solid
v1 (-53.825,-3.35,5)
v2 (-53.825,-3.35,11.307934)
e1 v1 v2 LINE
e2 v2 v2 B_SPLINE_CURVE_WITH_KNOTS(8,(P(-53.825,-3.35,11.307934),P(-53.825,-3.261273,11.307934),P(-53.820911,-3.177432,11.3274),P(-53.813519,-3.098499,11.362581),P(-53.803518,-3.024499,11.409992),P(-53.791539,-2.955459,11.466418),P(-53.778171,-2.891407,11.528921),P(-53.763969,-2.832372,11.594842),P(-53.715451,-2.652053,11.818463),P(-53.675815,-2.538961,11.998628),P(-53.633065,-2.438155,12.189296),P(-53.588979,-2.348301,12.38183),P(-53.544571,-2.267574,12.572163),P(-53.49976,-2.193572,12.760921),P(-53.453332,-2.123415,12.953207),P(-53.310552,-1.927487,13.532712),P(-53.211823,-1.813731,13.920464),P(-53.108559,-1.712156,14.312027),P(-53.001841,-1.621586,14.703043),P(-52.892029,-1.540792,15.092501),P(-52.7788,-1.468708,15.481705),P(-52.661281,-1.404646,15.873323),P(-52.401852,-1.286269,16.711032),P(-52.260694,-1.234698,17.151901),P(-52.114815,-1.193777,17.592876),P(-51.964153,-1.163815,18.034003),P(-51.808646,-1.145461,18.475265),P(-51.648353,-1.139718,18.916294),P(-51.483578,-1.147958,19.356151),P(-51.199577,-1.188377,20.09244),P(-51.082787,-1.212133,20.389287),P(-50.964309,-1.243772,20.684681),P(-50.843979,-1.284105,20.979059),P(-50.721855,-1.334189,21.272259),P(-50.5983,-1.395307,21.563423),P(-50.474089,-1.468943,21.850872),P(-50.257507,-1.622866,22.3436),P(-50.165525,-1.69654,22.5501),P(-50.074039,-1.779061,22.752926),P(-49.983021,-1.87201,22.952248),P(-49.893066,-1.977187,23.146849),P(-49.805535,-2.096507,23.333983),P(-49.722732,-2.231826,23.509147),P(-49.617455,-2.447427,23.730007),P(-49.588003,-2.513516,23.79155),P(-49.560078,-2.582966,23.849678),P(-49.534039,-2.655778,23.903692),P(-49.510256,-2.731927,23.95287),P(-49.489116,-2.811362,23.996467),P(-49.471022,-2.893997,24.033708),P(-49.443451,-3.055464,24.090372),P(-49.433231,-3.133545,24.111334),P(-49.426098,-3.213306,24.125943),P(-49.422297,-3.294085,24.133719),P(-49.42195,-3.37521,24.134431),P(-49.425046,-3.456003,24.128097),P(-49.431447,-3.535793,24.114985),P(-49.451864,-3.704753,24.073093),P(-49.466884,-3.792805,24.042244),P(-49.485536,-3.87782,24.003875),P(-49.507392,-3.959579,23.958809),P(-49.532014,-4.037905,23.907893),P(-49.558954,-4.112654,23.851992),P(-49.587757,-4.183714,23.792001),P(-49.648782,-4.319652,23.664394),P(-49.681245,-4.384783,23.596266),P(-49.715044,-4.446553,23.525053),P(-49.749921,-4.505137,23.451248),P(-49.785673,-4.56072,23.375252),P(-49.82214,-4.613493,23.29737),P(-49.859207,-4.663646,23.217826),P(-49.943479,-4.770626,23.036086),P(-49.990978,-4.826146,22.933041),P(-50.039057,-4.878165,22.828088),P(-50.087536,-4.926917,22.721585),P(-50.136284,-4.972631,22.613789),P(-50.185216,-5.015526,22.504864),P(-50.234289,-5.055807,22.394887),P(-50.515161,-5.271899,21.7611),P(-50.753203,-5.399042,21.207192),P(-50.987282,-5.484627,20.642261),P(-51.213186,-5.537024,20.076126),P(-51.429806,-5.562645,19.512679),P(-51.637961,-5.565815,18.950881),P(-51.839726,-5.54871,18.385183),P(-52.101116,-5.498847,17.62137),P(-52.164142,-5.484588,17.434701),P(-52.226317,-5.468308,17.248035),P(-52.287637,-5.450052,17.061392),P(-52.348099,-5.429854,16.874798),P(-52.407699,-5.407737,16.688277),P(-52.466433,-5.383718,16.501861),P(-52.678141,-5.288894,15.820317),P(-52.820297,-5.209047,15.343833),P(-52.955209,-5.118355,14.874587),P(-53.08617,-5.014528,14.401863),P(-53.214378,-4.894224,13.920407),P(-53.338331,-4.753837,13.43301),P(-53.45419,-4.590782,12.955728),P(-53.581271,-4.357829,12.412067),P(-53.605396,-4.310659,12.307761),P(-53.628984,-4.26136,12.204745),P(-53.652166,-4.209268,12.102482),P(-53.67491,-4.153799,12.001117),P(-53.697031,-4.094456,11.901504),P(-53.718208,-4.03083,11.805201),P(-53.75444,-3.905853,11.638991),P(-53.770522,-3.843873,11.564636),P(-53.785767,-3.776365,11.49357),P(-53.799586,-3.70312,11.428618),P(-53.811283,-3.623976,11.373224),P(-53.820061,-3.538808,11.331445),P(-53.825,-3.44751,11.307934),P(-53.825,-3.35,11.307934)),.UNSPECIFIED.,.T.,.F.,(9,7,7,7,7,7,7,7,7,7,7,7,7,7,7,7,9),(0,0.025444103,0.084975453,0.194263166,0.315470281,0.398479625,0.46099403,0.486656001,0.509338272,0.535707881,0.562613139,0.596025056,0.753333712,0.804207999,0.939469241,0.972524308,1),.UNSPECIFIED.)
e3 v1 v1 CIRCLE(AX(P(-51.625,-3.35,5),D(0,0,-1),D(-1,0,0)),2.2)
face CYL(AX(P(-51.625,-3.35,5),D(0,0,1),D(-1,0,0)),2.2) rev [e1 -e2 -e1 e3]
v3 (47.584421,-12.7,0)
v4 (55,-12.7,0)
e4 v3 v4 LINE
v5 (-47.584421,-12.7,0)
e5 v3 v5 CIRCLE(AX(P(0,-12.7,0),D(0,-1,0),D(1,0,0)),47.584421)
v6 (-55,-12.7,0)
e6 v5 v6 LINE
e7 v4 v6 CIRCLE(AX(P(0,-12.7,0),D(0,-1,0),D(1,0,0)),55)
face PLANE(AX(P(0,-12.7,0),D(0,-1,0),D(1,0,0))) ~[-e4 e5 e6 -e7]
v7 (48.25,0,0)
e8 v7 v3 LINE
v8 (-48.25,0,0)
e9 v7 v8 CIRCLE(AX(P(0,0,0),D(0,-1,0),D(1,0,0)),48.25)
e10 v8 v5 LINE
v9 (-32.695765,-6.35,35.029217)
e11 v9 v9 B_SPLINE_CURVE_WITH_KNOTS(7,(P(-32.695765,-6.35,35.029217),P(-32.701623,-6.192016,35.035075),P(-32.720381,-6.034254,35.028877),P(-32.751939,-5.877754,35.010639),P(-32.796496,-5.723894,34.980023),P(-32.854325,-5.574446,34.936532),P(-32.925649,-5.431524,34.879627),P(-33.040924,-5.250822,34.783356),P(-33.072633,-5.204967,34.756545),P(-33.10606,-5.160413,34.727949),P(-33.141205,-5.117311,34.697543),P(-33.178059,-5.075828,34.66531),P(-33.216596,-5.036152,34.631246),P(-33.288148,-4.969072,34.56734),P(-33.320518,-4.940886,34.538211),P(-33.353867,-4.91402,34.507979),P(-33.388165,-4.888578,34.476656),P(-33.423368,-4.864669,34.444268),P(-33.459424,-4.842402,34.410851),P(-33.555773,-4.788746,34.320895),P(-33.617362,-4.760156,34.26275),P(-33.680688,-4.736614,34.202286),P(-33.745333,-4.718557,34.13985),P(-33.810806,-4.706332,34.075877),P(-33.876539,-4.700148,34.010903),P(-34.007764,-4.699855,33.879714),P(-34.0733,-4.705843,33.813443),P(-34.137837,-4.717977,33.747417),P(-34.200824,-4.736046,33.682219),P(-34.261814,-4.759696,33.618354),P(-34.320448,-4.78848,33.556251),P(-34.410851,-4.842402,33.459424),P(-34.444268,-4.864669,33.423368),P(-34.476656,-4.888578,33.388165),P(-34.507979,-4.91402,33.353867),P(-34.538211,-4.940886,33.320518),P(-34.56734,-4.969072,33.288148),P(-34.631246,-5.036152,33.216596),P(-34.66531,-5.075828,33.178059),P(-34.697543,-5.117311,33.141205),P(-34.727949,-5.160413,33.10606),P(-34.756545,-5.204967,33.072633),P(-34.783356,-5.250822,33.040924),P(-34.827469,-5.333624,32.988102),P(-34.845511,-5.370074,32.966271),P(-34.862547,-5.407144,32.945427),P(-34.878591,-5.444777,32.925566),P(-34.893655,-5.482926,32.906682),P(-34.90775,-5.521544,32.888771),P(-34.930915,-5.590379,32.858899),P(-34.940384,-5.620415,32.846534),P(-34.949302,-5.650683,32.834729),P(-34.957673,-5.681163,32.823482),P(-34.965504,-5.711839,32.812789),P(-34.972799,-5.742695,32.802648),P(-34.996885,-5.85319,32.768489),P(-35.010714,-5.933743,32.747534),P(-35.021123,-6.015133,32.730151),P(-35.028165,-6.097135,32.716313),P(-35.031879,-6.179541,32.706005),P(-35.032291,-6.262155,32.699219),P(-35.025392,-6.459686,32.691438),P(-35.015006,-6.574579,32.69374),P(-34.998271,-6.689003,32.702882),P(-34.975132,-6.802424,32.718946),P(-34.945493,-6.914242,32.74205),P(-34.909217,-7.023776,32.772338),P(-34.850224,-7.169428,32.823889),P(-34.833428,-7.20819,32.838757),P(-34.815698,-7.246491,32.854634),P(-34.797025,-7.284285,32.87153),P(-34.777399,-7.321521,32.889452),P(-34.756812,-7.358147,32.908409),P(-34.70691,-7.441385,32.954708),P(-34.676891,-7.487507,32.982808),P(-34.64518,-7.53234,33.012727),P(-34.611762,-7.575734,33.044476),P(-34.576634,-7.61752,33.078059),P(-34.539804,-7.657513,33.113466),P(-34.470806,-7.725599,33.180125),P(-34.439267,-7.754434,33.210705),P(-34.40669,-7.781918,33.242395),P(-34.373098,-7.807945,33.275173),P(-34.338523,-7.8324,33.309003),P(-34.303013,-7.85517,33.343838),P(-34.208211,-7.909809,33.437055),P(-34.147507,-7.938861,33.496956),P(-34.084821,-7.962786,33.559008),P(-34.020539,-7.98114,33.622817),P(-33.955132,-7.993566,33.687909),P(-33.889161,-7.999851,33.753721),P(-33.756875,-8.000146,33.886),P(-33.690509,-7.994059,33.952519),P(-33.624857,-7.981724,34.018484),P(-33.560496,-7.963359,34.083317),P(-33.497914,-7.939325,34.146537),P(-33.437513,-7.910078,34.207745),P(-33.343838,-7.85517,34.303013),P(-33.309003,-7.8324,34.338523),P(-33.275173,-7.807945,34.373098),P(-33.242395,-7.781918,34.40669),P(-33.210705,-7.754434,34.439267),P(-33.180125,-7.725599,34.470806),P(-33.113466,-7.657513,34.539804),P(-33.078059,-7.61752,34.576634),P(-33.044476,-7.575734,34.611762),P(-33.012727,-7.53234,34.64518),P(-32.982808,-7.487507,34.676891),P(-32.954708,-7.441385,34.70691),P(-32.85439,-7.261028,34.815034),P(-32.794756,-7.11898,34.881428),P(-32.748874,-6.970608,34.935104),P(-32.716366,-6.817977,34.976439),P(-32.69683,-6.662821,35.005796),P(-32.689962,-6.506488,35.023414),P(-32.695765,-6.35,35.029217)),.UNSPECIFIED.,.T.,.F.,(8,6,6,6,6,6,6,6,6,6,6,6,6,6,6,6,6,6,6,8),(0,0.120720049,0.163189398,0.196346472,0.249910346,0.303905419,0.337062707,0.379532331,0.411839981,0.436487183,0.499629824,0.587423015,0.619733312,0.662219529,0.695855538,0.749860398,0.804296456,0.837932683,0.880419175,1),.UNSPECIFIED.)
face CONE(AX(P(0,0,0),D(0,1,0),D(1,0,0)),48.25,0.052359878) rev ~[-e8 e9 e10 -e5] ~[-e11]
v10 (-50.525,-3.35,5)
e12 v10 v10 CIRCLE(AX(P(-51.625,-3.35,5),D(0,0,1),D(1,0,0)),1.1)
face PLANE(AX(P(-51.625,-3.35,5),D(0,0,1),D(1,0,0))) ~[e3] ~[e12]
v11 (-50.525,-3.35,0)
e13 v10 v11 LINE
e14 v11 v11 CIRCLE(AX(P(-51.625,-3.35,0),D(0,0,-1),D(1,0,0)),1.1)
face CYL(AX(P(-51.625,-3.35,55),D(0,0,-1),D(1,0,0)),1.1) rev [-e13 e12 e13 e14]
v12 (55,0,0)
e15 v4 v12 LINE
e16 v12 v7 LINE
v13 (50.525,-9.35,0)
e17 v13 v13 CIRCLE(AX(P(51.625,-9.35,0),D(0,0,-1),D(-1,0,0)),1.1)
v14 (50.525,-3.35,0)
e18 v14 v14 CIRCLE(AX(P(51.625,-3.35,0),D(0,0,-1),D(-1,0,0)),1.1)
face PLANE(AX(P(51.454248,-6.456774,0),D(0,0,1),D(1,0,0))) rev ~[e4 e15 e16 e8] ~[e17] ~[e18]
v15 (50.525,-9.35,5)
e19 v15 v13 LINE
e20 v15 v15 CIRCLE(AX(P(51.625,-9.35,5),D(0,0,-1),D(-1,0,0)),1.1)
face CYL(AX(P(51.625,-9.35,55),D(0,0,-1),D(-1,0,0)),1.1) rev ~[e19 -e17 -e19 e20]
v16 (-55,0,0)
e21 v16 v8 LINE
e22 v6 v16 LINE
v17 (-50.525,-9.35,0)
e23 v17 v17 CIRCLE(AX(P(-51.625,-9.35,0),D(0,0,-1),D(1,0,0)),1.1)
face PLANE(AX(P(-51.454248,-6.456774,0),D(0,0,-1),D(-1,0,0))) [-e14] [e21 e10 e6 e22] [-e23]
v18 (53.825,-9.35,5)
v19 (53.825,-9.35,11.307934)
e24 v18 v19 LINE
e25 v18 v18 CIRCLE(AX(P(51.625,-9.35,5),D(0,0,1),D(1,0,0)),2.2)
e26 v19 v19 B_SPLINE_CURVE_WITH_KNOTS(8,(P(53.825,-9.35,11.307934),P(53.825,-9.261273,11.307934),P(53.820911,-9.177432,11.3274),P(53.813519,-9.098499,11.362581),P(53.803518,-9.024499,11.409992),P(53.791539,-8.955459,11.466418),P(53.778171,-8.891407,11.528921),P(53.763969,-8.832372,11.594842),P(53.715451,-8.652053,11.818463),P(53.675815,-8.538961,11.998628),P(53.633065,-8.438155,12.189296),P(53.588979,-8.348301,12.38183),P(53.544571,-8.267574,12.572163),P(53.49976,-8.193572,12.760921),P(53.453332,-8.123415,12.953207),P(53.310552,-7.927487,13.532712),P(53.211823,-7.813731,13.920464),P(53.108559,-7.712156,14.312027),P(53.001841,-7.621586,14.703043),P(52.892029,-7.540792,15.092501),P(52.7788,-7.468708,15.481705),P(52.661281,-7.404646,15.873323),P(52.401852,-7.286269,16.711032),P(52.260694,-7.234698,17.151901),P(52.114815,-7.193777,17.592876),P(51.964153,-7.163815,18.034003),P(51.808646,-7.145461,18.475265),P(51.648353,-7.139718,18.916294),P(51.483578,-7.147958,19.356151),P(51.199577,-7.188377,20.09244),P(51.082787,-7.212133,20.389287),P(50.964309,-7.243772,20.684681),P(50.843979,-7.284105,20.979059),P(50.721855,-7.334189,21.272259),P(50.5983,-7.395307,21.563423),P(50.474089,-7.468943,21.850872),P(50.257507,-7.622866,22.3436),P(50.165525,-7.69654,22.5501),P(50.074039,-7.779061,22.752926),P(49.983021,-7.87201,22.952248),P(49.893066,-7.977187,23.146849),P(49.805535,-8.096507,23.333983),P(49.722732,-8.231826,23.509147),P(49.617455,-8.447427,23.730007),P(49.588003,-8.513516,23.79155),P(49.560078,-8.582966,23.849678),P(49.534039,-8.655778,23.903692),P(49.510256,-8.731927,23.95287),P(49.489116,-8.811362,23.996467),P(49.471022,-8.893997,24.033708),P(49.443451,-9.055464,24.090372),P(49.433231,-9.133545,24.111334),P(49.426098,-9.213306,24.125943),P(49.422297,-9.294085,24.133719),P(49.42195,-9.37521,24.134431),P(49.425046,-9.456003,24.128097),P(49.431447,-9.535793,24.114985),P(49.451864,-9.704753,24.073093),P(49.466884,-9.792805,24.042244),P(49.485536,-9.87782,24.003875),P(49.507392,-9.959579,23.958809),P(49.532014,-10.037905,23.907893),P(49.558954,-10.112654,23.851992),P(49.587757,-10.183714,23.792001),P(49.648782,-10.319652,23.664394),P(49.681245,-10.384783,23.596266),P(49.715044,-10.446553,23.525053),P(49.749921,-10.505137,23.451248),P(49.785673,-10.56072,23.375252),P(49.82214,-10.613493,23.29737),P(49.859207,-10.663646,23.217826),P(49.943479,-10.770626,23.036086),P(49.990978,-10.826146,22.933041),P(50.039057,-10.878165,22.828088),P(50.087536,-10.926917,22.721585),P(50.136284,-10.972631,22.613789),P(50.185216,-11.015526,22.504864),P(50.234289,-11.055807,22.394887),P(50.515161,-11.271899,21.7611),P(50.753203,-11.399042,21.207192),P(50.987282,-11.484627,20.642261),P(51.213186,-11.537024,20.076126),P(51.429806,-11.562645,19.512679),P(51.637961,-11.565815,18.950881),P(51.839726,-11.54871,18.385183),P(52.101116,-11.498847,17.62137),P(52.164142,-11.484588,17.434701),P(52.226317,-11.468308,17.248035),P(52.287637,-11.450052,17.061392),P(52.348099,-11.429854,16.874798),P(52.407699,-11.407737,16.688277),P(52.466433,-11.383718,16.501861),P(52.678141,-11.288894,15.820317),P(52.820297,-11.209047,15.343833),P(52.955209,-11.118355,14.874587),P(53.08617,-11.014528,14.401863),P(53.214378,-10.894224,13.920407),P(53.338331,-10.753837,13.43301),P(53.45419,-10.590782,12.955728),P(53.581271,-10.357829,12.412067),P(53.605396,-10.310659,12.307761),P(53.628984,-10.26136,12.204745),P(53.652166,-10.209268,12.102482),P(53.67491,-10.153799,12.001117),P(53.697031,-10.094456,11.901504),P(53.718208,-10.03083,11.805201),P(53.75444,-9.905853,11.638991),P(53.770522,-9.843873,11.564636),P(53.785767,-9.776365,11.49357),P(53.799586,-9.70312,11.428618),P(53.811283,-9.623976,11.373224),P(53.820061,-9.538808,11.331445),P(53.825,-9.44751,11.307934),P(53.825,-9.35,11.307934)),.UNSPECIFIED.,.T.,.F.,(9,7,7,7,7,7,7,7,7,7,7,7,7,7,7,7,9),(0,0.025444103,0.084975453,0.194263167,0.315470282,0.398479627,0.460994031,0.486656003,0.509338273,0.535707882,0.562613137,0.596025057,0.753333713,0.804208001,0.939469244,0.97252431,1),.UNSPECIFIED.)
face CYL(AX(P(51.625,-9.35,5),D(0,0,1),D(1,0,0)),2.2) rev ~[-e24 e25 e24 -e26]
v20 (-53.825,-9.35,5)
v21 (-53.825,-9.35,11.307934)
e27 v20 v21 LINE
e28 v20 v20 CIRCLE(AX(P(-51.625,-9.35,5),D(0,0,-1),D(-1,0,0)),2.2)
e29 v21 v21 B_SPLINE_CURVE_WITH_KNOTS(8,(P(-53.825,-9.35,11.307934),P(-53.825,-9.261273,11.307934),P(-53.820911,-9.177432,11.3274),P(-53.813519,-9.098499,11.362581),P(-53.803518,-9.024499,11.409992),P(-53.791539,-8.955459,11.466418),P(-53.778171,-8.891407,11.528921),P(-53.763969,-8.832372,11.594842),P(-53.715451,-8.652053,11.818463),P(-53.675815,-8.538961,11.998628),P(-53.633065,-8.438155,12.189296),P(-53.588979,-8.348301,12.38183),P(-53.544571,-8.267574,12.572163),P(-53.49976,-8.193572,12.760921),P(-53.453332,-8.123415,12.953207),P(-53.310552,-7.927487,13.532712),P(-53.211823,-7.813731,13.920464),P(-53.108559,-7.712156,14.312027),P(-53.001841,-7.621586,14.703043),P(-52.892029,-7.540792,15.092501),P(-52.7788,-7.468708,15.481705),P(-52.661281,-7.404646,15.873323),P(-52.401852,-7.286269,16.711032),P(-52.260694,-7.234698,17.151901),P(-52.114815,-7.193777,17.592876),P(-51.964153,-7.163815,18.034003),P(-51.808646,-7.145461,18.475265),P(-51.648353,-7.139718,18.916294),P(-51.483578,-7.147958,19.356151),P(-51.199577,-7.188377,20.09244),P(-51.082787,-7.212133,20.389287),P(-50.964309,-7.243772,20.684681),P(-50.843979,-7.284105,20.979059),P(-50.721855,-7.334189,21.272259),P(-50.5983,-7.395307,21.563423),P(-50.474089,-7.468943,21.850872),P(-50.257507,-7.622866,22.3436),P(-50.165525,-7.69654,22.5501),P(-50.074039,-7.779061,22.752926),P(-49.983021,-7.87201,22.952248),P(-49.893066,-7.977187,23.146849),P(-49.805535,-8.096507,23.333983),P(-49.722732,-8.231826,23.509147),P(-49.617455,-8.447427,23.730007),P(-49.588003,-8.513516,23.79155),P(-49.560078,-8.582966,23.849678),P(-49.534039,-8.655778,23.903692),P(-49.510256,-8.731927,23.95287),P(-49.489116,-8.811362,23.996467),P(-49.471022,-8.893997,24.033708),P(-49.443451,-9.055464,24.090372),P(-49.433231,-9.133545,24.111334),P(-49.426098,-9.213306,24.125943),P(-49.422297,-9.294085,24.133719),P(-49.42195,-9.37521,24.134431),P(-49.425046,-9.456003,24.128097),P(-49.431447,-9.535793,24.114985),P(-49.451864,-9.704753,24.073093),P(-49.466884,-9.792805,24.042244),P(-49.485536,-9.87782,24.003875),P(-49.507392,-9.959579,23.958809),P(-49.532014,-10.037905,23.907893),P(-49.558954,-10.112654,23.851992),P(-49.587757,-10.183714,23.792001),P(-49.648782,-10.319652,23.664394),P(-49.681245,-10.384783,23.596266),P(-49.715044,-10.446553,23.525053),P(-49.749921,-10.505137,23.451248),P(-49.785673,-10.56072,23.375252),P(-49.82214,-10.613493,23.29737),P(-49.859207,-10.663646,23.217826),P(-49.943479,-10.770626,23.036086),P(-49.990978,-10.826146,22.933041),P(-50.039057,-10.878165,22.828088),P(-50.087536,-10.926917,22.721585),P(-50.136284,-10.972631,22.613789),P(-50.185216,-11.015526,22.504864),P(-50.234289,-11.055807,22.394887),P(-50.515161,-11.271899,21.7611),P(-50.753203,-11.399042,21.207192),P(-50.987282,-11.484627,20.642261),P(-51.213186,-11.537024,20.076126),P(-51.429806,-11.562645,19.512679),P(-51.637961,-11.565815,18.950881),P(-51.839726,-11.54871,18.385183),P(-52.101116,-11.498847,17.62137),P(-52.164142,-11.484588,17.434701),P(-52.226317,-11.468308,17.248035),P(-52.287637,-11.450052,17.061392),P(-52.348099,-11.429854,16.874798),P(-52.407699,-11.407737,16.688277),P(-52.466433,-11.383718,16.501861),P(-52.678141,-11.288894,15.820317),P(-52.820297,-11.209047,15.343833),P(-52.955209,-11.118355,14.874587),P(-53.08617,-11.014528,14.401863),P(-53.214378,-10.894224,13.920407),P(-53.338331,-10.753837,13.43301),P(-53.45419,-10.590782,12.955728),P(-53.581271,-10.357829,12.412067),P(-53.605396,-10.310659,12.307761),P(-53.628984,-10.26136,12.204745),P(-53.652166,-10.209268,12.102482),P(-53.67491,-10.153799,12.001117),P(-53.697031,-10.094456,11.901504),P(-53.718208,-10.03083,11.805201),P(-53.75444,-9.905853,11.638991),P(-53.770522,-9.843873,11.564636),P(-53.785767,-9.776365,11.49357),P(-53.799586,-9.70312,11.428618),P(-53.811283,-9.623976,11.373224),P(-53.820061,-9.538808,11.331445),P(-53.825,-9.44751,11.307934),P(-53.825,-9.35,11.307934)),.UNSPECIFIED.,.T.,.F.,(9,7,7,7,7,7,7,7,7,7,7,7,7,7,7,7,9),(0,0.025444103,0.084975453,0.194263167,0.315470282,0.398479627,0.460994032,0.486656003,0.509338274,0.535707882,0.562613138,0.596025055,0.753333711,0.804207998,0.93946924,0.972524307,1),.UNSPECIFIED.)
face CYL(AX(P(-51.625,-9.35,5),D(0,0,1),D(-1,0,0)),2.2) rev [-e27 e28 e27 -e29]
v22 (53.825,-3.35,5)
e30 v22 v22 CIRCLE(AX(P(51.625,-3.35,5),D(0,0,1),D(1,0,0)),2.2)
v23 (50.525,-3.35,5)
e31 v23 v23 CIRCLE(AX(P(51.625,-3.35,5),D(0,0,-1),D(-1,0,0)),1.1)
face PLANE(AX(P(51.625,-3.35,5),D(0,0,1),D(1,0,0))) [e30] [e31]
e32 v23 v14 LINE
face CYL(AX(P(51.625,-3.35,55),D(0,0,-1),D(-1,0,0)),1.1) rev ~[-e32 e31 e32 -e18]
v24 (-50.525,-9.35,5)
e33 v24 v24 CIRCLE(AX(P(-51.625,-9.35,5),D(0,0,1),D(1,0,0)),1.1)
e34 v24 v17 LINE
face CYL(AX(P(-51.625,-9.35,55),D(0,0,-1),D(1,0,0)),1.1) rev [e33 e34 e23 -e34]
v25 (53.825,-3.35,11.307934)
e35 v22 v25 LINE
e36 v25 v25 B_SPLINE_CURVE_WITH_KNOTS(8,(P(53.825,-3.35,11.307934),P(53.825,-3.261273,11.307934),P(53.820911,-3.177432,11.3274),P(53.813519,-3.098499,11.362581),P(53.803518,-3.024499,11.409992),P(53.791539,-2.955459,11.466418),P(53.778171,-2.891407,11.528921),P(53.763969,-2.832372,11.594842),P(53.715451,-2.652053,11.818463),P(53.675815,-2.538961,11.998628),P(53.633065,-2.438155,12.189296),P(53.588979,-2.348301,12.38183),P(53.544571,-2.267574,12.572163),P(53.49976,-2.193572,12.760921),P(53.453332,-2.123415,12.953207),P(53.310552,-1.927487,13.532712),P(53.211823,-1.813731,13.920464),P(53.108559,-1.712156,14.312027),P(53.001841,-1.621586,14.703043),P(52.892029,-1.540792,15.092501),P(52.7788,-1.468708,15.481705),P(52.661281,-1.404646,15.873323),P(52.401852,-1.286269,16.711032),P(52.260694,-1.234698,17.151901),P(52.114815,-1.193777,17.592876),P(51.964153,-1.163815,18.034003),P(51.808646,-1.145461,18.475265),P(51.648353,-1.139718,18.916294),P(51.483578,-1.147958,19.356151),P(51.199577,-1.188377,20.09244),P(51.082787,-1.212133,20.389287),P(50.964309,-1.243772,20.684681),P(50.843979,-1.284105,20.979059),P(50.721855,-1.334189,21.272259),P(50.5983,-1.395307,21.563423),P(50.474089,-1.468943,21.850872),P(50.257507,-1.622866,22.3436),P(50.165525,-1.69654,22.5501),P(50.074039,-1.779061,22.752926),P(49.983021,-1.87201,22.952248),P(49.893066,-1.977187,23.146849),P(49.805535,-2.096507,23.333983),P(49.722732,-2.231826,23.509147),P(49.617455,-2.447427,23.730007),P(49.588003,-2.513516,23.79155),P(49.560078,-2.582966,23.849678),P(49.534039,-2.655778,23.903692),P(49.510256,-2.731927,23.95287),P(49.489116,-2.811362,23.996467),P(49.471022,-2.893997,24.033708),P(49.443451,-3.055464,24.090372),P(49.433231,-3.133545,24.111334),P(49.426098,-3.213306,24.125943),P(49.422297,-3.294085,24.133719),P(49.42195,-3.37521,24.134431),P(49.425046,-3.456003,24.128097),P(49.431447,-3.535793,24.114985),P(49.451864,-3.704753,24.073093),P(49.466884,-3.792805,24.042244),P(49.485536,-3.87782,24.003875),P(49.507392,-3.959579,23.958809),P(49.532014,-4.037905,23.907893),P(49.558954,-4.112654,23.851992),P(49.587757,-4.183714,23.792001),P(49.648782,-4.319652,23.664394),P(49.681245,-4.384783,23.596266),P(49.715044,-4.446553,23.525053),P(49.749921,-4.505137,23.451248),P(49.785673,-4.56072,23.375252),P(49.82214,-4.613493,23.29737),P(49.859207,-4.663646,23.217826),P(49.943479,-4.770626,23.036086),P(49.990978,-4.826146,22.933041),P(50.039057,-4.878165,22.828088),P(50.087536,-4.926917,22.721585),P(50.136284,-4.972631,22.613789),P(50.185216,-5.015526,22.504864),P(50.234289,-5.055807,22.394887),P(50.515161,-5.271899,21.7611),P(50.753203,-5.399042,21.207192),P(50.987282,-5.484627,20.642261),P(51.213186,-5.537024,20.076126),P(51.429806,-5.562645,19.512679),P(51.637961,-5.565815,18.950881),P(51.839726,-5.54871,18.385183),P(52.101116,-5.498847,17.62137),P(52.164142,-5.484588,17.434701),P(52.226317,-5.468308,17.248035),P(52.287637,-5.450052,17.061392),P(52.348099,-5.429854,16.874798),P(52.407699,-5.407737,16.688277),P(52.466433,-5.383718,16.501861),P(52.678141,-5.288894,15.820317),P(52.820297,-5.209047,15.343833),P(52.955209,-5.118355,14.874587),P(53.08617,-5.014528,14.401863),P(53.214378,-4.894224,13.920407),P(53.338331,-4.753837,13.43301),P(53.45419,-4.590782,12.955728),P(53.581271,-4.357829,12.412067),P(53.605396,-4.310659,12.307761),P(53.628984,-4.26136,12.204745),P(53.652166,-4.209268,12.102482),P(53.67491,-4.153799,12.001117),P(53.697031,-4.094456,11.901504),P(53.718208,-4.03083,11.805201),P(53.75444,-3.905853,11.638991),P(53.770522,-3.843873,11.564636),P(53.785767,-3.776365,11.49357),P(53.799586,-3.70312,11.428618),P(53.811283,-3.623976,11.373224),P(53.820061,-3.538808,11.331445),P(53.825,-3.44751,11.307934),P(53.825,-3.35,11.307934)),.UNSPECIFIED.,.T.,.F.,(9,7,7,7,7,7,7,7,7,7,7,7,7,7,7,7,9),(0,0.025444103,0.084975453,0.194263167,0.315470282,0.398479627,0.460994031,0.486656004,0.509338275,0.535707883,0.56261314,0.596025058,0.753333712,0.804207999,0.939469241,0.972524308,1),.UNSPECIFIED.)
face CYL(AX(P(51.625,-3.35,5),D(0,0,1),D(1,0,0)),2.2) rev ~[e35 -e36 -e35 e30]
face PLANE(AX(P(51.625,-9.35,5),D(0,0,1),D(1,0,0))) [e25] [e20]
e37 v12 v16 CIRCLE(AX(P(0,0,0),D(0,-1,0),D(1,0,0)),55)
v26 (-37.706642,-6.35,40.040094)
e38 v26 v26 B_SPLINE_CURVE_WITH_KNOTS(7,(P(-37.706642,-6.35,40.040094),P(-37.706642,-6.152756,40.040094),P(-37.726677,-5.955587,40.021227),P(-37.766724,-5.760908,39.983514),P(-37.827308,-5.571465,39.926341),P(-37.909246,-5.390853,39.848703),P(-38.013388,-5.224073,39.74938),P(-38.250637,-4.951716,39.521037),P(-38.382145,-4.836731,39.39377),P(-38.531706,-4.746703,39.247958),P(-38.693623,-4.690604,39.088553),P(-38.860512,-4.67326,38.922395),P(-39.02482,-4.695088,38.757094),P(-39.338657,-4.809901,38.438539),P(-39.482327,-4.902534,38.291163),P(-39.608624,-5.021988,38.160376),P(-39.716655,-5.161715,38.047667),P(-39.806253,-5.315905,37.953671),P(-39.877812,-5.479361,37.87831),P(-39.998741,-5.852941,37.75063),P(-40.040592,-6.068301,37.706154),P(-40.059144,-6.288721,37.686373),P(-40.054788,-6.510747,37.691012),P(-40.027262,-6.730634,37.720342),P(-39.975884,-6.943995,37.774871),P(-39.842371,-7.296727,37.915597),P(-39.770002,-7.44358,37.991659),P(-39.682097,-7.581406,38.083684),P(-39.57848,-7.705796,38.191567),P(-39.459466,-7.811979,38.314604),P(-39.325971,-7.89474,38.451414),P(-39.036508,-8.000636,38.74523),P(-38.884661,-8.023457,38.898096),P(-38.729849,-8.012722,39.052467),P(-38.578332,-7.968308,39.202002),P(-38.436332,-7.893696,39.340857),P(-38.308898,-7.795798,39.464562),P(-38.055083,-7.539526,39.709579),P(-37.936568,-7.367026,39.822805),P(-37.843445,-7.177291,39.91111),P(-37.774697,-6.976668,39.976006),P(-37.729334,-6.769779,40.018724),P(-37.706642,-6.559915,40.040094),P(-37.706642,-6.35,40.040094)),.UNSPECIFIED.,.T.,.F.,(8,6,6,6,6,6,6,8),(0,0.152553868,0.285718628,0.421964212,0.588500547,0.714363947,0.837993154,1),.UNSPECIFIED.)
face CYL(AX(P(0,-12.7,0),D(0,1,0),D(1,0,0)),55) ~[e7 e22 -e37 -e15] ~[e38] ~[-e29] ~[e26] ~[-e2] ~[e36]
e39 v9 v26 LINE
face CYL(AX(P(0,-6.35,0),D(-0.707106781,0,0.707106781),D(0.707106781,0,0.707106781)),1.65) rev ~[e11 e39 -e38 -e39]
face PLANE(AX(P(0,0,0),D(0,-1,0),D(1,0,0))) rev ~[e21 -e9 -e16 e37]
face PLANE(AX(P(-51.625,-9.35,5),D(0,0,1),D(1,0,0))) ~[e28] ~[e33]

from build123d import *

# Parameters (mm, degrees)
REVOLVE2_ANGLE                 = 180
CBORE_FOR_M2_SHCS1_D           = 2.2
CBORE_FOR_M2_SHCS1_CBORE_D     = 4.4
CBORE_FOR_M2_SHCS1_CBORE_DEPTH = 50
SKETCH13_R                     = 1.65
CUT_EXTRUDE2_DEPTH             = 100


with BuildPart() as part:
    # Sketch3 → Revolve2 (revolve)
    with BuildSketch(Plane.XY):
        Polygon((48.25, 0), (47.584421203, -12.7), (55, -12.7), (55, 0), align=None)
    revolve(axis=Axis((0, 50.355486862, 0), (0, -1, 0)), revolution_arc=REVOLVE2_ANGLE)

    # CBORE for M2 SHCS1 (through all)
    with Locations(Plane.XY.offset(55)):
        with Locations((51.625, -3.35), (51.625, -9.35)):
            cbore_for_m2_shcs1 = CounterBoreHole(CBORE_FOR_M2_SHCS1_D / 2, CBORE_FOR_M2_SHCS1_CBORE_D / 2, CBORE_FOR_M2_SHCS1_CBORE_DEPTH)

    # Mirror1: CBORE for M2 SHCS1 across plane
    add(cbore_for_m2_shcs1.mirror(Plane(origin=(0, 0, 0), x_dir=(0, 0, 1), z_dir=(1, 0, 0))), mode=Mode.SUBTRACT)

    # Sketch13 → Cut-Extrude2 (cut, symmetric)
    with BuildSketch(Plane(origin=(0, 0, 0), x_dir=(0.707106781, 0, 0.707106781), z_dir=(-0.707106781, 0, 0.707106781))):
        with Locations((0, -6.35)):
            Circle(SKETCH13_R)
    extrude(amount=CUT_EXTRUDE2_DEPTH, both=True, mode=Mode.SUBTRACT)


solid = part.part
